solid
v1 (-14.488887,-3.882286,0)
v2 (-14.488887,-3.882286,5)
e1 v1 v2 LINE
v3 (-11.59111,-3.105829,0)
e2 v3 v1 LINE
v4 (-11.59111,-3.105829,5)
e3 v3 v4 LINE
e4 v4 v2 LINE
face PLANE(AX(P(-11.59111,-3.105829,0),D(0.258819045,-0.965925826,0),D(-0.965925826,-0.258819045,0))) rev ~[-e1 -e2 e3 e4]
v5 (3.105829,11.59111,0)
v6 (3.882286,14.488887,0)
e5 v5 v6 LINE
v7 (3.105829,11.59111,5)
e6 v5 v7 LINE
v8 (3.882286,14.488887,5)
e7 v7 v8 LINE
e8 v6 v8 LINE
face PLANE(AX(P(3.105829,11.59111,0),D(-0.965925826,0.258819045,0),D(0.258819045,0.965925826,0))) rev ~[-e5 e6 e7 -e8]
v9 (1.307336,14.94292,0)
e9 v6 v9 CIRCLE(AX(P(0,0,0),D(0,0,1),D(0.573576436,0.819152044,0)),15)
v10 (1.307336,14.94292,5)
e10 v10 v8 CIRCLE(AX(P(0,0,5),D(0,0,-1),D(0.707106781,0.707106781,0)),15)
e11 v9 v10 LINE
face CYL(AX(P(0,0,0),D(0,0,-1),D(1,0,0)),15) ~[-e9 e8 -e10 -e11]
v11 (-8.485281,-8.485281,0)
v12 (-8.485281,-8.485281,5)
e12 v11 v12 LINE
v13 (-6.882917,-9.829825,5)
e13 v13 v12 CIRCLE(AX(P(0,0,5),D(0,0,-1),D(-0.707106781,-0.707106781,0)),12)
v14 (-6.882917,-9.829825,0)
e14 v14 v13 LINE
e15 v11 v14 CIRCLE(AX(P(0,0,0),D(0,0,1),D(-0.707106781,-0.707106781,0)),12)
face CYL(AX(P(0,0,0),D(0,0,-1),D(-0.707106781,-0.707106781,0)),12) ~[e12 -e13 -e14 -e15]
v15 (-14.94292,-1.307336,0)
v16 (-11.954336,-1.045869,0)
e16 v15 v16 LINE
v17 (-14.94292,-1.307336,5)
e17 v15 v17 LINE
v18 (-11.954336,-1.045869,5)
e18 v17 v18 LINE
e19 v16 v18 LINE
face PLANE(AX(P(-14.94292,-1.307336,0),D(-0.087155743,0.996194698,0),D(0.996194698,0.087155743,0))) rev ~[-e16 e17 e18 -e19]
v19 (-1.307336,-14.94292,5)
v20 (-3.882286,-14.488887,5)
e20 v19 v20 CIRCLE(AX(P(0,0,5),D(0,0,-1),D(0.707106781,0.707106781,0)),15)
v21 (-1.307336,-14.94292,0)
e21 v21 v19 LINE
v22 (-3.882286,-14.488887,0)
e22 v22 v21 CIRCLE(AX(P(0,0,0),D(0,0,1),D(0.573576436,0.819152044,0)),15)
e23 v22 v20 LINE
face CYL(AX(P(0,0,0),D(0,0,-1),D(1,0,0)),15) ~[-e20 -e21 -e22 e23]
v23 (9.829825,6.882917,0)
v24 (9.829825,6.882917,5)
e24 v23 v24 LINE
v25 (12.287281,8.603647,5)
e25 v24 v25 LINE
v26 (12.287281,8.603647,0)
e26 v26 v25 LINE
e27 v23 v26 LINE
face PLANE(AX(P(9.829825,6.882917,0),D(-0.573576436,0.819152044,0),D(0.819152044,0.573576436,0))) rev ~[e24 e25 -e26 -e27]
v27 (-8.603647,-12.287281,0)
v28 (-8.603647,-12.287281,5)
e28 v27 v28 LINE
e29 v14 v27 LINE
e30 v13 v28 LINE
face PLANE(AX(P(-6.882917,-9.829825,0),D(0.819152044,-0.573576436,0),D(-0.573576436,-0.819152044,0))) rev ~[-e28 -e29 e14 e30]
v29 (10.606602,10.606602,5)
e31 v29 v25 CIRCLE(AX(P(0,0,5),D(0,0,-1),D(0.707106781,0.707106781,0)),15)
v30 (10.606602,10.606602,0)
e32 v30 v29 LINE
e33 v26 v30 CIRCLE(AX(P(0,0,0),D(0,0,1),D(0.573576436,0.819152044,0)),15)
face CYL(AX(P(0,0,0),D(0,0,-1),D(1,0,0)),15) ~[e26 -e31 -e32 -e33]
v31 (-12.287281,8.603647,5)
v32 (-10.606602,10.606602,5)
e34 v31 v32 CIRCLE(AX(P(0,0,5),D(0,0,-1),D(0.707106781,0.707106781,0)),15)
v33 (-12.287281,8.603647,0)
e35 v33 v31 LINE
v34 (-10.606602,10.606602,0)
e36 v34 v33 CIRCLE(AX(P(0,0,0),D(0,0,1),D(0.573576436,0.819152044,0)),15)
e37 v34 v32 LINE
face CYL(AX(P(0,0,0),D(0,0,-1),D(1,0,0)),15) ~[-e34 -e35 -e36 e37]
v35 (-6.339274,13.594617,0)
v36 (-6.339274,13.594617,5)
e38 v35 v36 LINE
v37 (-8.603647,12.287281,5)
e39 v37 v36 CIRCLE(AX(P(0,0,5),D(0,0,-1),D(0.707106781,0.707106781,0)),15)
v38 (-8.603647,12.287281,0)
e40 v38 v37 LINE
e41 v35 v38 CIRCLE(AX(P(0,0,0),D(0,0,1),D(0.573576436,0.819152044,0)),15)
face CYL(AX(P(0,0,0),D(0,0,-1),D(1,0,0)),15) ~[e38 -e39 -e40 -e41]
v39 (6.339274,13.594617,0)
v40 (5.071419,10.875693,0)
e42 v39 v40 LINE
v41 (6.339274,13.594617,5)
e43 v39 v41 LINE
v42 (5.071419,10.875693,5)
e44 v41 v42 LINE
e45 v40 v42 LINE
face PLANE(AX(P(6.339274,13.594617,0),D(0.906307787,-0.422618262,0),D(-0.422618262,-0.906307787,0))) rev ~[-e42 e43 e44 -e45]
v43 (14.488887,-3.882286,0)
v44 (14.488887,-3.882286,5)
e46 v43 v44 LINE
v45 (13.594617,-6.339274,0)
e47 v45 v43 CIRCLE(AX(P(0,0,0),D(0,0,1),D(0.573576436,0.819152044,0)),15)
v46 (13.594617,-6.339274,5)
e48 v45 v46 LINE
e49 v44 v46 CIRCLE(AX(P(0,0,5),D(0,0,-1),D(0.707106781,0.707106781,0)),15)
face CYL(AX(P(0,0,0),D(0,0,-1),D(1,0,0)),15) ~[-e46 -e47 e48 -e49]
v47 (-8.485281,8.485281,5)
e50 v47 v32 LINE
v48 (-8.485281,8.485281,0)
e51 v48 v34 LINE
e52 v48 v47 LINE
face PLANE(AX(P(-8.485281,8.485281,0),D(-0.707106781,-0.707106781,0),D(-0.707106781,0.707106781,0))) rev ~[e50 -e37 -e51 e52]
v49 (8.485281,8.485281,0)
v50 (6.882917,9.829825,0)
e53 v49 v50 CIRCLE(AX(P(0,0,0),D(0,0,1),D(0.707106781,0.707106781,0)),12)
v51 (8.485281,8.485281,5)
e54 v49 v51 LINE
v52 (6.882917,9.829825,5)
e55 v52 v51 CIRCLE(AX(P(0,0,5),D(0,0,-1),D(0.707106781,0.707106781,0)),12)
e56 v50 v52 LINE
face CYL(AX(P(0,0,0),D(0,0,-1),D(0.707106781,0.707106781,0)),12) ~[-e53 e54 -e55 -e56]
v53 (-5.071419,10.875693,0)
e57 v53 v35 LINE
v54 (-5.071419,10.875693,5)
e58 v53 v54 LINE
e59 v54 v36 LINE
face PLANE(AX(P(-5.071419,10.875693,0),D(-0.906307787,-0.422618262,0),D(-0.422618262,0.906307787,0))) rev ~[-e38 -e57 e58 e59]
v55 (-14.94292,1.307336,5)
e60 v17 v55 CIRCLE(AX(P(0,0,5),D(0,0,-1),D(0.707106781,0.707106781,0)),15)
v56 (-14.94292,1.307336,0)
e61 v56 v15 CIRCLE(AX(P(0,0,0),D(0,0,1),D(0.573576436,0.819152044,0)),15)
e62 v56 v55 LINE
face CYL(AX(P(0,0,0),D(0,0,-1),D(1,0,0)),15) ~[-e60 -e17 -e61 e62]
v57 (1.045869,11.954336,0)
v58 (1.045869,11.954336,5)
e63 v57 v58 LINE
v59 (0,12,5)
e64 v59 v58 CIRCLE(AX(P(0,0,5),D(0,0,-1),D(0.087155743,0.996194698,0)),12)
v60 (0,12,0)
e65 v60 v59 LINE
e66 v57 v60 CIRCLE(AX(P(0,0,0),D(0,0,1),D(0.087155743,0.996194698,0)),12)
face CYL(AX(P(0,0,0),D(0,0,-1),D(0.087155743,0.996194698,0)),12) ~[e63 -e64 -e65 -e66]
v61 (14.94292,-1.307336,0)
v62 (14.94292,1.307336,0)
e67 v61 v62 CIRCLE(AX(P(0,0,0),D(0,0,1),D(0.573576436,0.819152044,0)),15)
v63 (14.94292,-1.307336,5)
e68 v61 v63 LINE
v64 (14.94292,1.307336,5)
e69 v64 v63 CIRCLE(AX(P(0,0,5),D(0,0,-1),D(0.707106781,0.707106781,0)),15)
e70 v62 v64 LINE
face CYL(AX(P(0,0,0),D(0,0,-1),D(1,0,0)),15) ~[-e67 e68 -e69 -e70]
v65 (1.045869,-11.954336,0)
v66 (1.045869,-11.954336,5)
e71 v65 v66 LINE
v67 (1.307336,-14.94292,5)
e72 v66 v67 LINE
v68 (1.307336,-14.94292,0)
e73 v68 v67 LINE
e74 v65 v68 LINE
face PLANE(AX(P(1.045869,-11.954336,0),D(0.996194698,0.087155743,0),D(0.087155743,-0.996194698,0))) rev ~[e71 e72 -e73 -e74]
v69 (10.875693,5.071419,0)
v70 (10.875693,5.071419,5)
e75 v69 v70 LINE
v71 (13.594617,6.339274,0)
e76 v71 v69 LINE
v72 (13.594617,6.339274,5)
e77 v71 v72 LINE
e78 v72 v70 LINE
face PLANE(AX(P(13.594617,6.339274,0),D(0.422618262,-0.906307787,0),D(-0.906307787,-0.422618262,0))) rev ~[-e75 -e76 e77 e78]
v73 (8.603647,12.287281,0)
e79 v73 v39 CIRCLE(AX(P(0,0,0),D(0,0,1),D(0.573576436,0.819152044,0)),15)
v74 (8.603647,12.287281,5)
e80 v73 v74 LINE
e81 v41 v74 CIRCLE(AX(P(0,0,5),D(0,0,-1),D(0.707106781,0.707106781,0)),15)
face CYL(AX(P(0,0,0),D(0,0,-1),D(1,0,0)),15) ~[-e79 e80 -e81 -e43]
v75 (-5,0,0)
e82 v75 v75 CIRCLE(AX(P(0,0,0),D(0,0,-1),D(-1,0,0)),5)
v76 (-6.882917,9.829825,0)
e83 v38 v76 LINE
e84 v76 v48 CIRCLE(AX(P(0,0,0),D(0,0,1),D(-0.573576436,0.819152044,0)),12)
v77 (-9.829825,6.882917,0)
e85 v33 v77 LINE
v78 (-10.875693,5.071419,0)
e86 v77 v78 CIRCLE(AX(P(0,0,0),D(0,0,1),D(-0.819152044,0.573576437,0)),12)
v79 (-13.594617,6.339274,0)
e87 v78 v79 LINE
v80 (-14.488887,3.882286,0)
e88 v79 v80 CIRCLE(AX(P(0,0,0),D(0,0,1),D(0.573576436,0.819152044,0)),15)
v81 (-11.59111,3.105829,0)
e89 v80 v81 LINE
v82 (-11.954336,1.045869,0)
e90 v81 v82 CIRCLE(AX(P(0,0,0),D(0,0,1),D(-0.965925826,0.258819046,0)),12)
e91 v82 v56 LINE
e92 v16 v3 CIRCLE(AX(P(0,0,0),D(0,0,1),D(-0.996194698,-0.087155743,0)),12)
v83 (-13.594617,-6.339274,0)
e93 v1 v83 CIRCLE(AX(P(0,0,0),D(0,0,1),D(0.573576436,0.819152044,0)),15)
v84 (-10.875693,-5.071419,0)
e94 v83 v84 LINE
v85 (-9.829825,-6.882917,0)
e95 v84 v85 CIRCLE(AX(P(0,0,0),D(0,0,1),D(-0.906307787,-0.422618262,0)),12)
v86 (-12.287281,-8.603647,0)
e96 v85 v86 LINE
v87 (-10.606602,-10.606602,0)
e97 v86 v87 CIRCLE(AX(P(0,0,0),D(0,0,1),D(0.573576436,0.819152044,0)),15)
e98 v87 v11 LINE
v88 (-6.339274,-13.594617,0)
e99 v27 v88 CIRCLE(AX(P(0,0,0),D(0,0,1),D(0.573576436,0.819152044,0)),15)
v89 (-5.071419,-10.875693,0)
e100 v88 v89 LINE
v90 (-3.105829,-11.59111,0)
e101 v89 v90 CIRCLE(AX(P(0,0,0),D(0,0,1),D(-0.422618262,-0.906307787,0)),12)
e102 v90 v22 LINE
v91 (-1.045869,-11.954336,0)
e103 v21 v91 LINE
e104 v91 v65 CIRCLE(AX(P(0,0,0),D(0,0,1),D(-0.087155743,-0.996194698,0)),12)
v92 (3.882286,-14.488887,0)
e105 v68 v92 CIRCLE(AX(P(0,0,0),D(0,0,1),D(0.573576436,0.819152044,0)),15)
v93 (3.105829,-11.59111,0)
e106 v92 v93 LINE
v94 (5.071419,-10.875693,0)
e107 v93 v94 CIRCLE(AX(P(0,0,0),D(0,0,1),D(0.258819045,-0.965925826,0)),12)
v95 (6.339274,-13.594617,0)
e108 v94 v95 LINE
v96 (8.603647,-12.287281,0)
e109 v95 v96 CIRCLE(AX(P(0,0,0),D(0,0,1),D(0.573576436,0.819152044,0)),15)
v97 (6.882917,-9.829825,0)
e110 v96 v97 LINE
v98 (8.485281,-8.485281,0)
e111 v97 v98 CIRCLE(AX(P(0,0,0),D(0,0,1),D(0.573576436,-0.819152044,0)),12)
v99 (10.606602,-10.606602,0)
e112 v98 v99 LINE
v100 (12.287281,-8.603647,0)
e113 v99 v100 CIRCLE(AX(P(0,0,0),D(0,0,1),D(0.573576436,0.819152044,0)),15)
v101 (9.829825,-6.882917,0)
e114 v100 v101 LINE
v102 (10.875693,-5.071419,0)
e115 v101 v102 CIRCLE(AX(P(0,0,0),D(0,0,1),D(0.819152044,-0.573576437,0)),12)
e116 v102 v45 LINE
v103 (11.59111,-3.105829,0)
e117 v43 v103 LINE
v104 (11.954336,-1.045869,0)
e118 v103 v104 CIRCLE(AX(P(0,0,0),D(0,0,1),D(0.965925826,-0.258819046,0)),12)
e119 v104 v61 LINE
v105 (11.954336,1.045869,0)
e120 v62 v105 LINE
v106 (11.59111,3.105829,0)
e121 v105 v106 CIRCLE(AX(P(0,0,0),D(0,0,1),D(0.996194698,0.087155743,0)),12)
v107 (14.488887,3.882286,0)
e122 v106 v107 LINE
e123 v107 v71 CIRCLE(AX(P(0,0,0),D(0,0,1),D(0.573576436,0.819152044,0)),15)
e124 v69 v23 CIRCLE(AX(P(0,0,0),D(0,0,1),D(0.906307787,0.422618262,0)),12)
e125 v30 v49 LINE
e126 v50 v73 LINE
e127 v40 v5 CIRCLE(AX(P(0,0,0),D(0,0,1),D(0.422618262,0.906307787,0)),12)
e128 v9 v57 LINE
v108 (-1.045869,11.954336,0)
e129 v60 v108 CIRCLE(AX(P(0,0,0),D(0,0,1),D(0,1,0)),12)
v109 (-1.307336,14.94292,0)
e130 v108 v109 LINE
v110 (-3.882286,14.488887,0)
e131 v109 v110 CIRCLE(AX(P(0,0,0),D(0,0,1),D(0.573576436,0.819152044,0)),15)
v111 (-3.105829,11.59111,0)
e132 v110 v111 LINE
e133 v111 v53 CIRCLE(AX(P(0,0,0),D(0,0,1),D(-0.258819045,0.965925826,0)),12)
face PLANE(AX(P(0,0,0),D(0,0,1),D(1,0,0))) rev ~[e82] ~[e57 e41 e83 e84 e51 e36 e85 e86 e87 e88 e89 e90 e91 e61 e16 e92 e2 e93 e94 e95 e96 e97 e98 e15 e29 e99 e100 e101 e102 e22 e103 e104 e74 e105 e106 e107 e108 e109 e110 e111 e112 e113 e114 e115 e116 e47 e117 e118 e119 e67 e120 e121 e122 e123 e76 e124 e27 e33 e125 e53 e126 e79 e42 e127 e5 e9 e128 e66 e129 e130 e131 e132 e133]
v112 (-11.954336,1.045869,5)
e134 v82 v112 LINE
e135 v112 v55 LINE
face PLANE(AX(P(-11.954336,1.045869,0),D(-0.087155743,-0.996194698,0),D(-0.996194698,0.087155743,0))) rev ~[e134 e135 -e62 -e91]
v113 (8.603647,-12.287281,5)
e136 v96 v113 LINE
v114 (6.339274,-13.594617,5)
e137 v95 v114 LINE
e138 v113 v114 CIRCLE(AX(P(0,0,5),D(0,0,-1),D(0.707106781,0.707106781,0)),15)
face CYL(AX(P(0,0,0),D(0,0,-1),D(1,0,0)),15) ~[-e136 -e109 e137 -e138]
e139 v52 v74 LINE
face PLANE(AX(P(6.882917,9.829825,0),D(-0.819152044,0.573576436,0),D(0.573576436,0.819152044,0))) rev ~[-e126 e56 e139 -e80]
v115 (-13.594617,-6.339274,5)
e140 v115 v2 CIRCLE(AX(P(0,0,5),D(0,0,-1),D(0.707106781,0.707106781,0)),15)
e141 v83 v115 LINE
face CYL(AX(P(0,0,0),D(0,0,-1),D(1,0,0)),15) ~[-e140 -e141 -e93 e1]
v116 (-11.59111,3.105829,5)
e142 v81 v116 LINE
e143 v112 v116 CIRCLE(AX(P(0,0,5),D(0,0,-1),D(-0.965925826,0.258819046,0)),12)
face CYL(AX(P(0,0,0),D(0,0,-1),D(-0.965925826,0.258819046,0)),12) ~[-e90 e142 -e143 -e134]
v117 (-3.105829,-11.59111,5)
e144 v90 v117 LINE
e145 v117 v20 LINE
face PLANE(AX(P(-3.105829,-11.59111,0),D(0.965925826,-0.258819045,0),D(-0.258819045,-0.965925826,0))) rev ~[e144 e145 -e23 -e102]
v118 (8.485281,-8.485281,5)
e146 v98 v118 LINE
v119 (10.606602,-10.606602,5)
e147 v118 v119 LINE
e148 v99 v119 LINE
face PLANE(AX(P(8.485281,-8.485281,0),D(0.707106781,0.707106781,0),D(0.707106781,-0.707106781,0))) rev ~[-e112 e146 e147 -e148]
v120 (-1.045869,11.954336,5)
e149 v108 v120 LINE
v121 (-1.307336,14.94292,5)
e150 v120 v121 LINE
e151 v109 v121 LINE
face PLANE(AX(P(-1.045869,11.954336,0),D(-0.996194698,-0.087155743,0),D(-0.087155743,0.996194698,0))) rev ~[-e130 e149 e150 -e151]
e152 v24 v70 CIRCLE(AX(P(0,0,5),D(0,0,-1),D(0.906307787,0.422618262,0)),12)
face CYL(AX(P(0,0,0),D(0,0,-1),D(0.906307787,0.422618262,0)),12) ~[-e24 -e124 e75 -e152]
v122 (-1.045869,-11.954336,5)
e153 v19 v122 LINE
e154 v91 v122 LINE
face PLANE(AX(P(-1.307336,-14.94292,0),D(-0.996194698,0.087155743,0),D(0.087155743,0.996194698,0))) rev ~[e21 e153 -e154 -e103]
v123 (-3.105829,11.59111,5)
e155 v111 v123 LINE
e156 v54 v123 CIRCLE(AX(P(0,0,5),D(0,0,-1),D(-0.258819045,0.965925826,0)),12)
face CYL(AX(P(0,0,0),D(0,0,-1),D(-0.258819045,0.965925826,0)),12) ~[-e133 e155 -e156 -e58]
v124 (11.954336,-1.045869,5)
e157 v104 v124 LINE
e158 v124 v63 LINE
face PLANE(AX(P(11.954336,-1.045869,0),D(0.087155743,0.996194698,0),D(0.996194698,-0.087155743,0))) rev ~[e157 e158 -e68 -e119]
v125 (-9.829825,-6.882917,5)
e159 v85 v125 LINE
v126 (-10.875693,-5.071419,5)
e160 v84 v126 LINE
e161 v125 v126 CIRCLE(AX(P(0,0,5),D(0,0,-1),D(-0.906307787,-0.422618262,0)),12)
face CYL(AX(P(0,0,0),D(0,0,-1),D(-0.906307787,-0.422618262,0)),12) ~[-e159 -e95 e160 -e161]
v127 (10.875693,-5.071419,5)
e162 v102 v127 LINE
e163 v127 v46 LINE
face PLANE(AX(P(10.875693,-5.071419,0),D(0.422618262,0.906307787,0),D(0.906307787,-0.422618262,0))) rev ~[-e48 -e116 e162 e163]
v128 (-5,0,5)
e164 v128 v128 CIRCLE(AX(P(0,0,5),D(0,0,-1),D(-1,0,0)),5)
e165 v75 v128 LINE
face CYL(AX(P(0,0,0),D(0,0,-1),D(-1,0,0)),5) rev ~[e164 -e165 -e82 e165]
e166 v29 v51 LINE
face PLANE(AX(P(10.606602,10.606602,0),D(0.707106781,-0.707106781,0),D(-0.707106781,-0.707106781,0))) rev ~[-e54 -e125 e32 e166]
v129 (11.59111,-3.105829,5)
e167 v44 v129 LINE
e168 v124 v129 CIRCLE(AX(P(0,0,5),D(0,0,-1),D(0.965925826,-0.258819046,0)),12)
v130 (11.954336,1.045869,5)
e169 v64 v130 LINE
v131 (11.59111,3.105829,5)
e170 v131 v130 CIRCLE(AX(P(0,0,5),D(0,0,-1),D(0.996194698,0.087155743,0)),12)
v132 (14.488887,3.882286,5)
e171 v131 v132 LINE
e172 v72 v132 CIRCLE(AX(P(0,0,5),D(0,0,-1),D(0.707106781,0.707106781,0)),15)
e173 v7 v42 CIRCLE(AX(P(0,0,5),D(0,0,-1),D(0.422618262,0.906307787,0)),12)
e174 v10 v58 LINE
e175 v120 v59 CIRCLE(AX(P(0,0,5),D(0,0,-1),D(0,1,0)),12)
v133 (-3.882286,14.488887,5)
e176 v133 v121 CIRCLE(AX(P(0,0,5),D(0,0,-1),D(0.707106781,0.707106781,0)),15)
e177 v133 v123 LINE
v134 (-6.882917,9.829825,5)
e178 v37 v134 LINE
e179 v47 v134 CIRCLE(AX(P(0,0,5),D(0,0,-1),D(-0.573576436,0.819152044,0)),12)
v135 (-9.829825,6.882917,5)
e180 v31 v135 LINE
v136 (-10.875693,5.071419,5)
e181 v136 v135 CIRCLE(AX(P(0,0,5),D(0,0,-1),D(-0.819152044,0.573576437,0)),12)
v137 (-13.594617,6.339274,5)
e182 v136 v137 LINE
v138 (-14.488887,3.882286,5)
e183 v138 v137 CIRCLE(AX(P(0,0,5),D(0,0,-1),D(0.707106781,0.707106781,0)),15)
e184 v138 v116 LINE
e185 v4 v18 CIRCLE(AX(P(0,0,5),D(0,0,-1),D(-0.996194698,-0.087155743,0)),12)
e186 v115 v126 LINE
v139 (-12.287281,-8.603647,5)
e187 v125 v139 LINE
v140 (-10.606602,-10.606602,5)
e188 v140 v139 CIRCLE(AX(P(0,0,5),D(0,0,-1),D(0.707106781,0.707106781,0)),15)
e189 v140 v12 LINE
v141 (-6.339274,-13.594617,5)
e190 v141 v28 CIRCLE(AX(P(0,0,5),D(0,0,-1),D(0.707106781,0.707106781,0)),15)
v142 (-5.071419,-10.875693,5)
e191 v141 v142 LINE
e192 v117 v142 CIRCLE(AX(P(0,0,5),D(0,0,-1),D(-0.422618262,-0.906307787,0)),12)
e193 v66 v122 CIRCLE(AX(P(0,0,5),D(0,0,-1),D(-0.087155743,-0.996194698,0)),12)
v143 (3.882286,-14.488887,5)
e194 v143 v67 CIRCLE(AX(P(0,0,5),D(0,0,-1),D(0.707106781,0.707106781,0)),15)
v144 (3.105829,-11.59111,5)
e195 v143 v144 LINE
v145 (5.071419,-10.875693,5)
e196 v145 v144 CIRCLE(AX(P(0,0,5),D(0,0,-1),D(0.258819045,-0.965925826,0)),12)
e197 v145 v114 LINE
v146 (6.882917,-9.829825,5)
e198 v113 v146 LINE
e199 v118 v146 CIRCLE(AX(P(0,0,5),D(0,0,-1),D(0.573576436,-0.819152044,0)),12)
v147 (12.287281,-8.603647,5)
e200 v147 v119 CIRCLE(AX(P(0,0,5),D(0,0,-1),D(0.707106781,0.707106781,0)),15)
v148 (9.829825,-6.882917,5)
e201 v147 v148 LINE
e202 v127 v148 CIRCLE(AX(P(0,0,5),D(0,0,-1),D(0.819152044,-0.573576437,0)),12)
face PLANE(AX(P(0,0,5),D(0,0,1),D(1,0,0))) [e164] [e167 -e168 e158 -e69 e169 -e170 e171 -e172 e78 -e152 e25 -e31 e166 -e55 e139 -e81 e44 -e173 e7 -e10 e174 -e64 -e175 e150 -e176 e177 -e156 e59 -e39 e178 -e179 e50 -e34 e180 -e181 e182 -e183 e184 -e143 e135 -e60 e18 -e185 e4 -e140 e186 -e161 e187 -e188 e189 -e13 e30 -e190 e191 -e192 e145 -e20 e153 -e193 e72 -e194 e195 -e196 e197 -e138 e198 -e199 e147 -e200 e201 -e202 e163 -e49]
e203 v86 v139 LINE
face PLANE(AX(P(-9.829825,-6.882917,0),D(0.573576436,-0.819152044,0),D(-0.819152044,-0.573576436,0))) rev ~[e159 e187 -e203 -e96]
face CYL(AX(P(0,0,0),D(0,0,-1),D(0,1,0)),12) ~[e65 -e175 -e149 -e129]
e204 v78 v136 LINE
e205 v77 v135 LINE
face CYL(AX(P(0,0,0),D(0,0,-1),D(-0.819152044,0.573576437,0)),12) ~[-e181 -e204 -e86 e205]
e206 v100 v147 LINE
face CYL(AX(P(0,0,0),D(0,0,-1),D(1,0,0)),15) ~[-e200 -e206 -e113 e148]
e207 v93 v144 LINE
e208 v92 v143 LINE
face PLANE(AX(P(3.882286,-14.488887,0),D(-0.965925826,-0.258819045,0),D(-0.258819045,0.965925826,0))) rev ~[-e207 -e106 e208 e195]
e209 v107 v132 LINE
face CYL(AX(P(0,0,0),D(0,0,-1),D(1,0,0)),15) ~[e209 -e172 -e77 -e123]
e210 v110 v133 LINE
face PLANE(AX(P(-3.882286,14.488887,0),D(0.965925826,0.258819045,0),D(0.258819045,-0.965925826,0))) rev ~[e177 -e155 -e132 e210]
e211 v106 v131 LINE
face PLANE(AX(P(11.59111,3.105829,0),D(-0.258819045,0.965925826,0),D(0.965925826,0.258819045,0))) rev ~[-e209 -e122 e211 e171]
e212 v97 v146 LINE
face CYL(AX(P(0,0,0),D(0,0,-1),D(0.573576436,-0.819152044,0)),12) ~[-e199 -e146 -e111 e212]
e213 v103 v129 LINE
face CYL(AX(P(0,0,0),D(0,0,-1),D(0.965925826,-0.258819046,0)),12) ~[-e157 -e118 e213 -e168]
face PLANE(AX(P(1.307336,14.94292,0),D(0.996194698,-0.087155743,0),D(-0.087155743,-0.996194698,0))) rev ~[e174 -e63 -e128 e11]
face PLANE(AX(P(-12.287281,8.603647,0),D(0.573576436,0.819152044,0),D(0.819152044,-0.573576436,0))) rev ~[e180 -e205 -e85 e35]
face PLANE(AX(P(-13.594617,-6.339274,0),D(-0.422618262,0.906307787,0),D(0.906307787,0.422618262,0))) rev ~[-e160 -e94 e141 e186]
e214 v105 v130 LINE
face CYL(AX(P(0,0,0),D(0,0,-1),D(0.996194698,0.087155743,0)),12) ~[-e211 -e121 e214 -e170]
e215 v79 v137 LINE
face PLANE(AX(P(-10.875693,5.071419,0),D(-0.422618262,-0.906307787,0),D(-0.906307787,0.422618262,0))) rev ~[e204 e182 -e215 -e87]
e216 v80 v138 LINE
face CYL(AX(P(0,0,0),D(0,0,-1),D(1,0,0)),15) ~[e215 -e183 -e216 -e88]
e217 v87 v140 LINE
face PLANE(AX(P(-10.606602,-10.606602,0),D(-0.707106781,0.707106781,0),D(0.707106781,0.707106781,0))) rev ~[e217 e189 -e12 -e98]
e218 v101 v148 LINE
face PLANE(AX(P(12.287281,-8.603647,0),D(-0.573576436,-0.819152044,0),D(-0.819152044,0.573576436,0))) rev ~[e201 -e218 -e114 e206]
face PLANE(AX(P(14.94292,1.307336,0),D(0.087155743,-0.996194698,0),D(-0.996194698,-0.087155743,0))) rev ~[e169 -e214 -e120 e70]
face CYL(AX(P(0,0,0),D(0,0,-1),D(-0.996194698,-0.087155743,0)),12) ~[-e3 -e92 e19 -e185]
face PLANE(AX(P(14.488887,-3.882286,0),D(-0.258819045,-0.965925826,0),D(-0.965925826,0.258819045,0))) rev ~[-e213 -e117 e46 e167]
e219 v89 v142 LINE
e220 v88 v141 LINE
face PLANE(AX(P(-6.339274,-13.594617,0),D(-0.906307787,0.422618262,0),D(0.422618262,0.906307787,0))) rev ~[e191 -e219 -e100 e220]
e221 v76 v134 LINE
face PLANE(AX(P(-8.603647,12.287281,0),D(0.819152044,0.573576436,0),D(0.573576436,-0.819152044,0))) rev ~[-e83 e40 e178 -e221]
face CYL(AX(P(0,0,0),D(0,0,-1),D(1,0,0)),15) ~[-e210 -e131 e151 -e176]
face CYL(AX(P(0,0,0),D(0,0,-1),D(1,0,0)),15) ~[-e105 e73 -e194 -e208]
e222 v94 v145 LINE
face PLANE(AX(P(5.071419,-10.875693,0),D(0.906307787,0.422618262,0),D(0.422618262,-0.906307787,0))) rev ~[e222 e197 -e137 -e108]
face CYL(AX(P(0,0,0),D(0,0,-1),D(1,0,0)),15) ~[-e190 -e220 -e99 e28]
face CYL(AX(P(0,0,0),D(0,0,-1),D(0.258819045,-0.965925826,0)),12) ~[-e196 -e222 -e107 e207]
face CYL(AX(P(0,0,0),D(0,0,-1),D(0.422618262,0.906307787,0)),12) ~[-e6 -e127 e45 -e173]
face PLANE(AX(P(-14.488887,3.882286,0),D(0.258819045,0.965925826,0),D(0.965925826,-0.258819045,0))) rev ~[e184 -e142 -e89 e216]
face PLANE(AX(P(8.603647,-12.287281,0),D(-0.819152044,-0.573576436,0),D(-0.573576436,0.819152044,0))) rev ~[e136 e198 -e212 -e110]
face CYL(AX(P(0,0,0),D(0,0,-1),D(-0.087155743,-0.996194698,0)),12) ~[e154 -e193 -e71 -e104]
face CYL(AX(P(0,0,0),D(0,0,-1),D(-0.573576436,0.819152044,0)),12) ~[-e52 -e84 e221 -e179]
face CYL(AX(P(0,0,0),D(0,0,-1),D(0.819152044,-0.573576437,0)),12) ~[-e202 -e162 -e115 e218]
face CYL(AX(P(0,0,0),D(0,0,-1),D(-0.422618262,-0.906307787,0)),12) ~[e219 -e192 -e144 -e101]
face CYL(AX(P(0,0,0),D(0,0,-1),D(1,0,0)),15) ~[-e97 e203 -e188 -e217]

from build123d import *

# Parameters (mm, degrees)
SKETCH_1_R          = 15
EXTRUDE_1_DEPTH     = 5
CUT_EXTRUDE_1_REACH = 23.794
CUT_EXTRUDE_2_REACH = 23.755
SKETCH_3_R          = 5


with BuildPart() as part:
    # ｽｹｯﾁ1 → ﾎﾞｽ - 押し出し1 (new body)
    with BuildSketch(Plane.XY):
        Circle(SKETCH_1_R)
    extrude(amount=EXTRUDE_1_DEPTH)

    # ｽｹｯﾁ2 → ｶｯﾄ - 押し出し1 (cut, up to next)
    with BuildSketch(Plane(origin=(0, 0, 0), x_dir=(-1, 0, 0), z_dir=(0, 0, -1)), mode=Mode.PRIVATE) as cut_extrude_1_sk1:
        with BuildLine():
            Line((-6.882917236, 9.829824531), (-8.603646545, 12.287280664))
            ThreePointArc((-8.603646545, 12.287280664), (-9.641814145, 11.490666647), (-10.606601718, 10.606601718))
            Line((-10.606601718, 10.606601718), (-8.485281374, 8.485281374))
            ThreePointArc((-8.485281374, 8.485281374), (-7.713451316, 9.192533317), (-6.882917236, 9.829824531))
        make_face()
    cut_extrude_1_tool1 = extrude(cut_extrude_1_sk1.sketch, amount=-CUT_EXTRUDE_1_REACH, mode=Mode.PRIVATE) & part.part
    # ｽｹｯﾁ2 → ｶｯﾄ - 押し出し1 (cut, up to next)
    with BuildSketch(Plane(origin=(0, 0, 0), x_dir=(-1, 0, 0), z_dir=(0, 0, -1)), mode=Mode.PRIVATE) as cut_extrude_1_sk2:
        with BuildLine():
            Line((-3.105828541, 11.591109915), (-3.882285677, 14.488887394))
            ThreePointArc((-3.882285677, 14.488887394), (-5.13030215, 14.095389312), (-6.339273926, 13.594616806))
            Line((-6.339273926, 13.594616806), (-5.071419141, 10.875693444))
            ThreePointArc((-5.071419141, 10.875693444), (-4.10424172, 11.276311449), (-3.105828541, 11.591109915))
        make_face()
    cut_extrude_1_tool2 = extrude(cut_extrude_1_sk2.sketch, amount=-CUT_EXTRUDE_1_REACH, mode=Mode.PRIVATE) & part.part
    # ｽｹｯﾁ2 → ｶｯﾄ - 押し出し1 (cut, up to next)
    with BuildSketch(Plane(origin=(0, 0, 0), x_dir=(-1, 0, 0), z_dir=(0, 0, -1)), mode=Mode.PRIVATE) as cut_extrude_1_sk3:
        with BuildLine():
            ThreePointArc((0, 12), (0.523432648, 11.988578659), (1.045868913, 11.954336377))
            Line((1.045868913, 11.954336377), (1.307336141, 14.942920471))
            ThreePointArc((1.307336141, 14.942920471), (0.65429081, 14.985723324), (0, 15))
            Line((0, 15), (0, 12))
        make_face()
    cut_extrude_1_tool3 = extrude(cut_extrude_1_sk3.sketch, amount=-CUT_EXTRUDE_1_REACH, mode=Mode.PRIVATE) & part.part
    # ｽｹｯﾁ2 → ｶｯﾄ - 押し出し1 (cut, up to next)
    with BuildSketch(Plane(origin=(0, 0, 0), x_dir=(-1, 0, 0), z_dir=(0, 0, -1)), mode=Mode.PRIVATE) as cut_extrude_1_sk4:
        with BuildLine():
            ThreePointArc((-1.045868913, 11.954336377), (-0.523432648, 11.988578659), (0, 12))
            Line((0, 12), (0, 15))
            ThreePointArc((0, 15), (-0.65429081, 14.985723324), (-1.307336141, 14.942920471))
            Line((-1.307336141, 14.942920471), (-1.045868913, 11.954336377))
        make_face()
    cut_extrude_1_tool4 = extrude(cut_extrude_1_sk4.sketch, amount=-CUT_EXTRUDE_1_REACH, mode=Mode.PRIVATE) & part.part
    # ｽｹｯﾁ2 → ｶｯﾄ - 押し出し1 (cut, up to next)
    with BuildSketch(Plane(origin=(0, 0, 0), x_dir=(-1, 0, 0), z_dir=(0, 0, -1)), mode=Mode.PRIVATE) as cut_extrude_1_sk5:
        with BuildLine():
            ThreePointArc((6.339273926, 13.594616806), (5.13030215, 14.095389312), (3.882285677, 14.488887394))
            Line((3.882285677, 14.488887394), (3.105828541, 11.591109915))
            ThreePointArc((3.105828541, 11.591109915), (4.10424172, 11.276311449), (5.071419141, 10.875693444))
            Line((5.071419141, 10.875693444), (6.339273926, 13.594616806))
        make_face()
    cut_extrude_1_tool5 = extrude(cut_extrude_1_sk5.sketch, amount=-CUT_EXTRUDE_1_REACH, mode=Mode.PRIVATE) & part.part
    # ｽｹｯﾁ2 → ｶｯﾄ - 押し出し1 (cut, up to next)
    with BuildSketch(Plane(origin=(0, 0, 0), x_dir=(-1, 0, 0), z_dir=(0, 0, -1)), mode=Mode.PRIVATE) as cut_extrude_1_sk6:
        with BuildLine():
            ThreePointArc((10.606601718, 10.606601718), (9.641814145, 11.490666647), (8.603646545, 12.287280664))
            Line((8.603646545, 12.287280664), (6.882917236, 9.829824531))
            ThreePointArc((6.882917236, 9.829824531), (7.713451316, 9.192533317), (8.485281374, 8.485281374))
            Line((8.485281374, 8.485281374), (10.606601718, 10.606601718))
        make_face()
    cut_extrude_1_tool6 = extrude(cut_extrude_1_sk6.sketch, amount=-CUT_EXTRUDE_1_REACH, mode=Mode.PRIVATE) & part.part
    # ｽｹｯﾁ2 → ｶｯﾄ - 押し出し1 (cut, up to next)
    with BuildSketch(Plane(origin=(0, 0, 0), x_dir=(-1, 0, 0), z_dir=(0, 0, -1)), mode=Mode.PRIVATE) as cut_extrude_1_sk7:
        with BuildLine():
            ThreePointArc((13.594616806, 6.339273926), (12.990381057, 7.5), (12.287280664, 8.603646545))
            Line((12.287280664, 8.603646545), (9.829824531, 6.882917236))
            ThreePointArc((9.829824531, 6.882917236), (10.392304845, 6), (10.875693444, 5.071419141))
            Line((10.875693444, 5.071419141), (13.594616806, 6.339273926))
        make_face()
    cut_extrude_1_tool7 = extrude(cut_extrude_1_sk7.sketch, amount=-CUT_EXTRUDE_1_REACH, mode=Mode.PRIVATE) & part.part
    # ｽｹｯﾁ2 → ｶｯﾄ - 押し出し1 (cut, up to next)
    with BuildSketch(Plane(origin=(0, 0, 0), x_dir=(-1, 0, 0), z_dir=(0, 0, -1)), mode=Mode.PRIVATE) as cut_extrude_1_sk8:
        with BuildLine():
            ThreePointArc((14.942920471, 1.307336141), (14.772116295, 2.604722665), (14.488887394, 3.882285677))
            Line((14.488887394, 3.882285677), (11.591109915, 3.105828541))
            ThreePointArc((11.591109915, 3.105828541), (11.817693036, 2.083778132), (11.954336377, 1.045868913))
            Line((11.954336377, 1.045868913), (14.942920471, 1.307336141))
        make_face()
    cut_extrude_1_tool8 = extrude(cut_extrude_1_sk8.sketch, amount=-CUT_EXTRUDE_1_REACH, mode=Mode.PRIVATE) & part.part
    # ｽｹｯﾁ2 → ｶｯﾄ - 押し出し1 (cut, up to next)
    with BuildSketch(Plane(origin=(0, 0, 0), x_dir=(-1, 0, 0), z_dir=(0, 0, -1)), mode=Mode.PRIVATE) as cut_extrude_1_sk9:
        with BuildLine():
            ThreePointArc((14.488887394, -3.882285677), (14.772116295, -2.604722665), (14.942920471, -1.307336141))
            Line((14.942920471, -1.307336141), (11.954336377, -1.045868913))
            ThreePointArc((11.954336377, -1.045868913), (11.817693036, -2.083778132), (11.591109915, -3.105828541))
            Line((11.591109915, -3.105828541), (14.488887394, -3.882285677))
        make_face()
    cut_extrude_1_tool9 = extrude(cut_extrude_1_sk9.sketch, amount=-CUT_EXTRUDE_1_REACH, mode=Mode.PRIVATE) & part.part
    # ｽｹｯﾁ2 → ｶｯﾄ - 押し出し1 (cut, up to next)
    with BuildSketch(Plane(origin=(0, 0, 0), x_dir=(-1, 0, 0), z_dir=(0, 0, -1)), mode=Mode.PRIVATE) as cut_extrude_1_sk10:
        with BuildLine():
            Line((-9.829824531, 6.882917236), (-12.287280664, 8.603646545))
            ThreePointArc((-12.287280664, 8.603646545), (-12.990381057, 7.5), (-13.594616806, 6.339273926))
            Line((-13.594616806, 6.339273926), (-10.875693444, 5.071419141))
            ThreePointArc((-10.875693444, 5.071419141), (-10.392304845, 6), (-9.829824531, 6.882917236))
        make_face()
    cut_extrude_1_tool10 = extrude(cut_extrude_1_sk10.sketch, amount=-CUT_EXTRUDE_1_REACH, mode=Mode.PRIVATE) & part.part
    # ｽｹｯﾁ2 → ｶｯﾄ - 押し出し1 (cut, up to next)
    with BuildSketch(Plane(origin=(0, 0, 0), x_dir=(-1, 0, 0), z_dir=(0, 0, -1)), mode=Mode.PRIVATE) as cut_extrude_1_sk11:
        with BuildLine():
            Line((-11.591109915, 3.105828541), (-14.488887394, 3.882285677))
            ThreePointArc((-14.488887394, 3.882285677), (-14.772116295, 2.604722665), (-14.942920471, 1.307336141))
            Line((-14.942920471, 1.307336141), (-11.954336377, 1.045868913))
            ThreePointArc((-11.954336377, 1.045868913), (-11.817693036, 2.083778132), (-11.591109915, 3.105828541))
        make_face()
    cut_extrude_1_tool11 = extrude(cut_extrude_1_sk11.sketch, amount=-CUT_EXTRUDE_1_REACH, mode=Mode.PRIVATE) & part.part
    # ｽｹｯﾁ2 → ｶｯﾄ - 押し出し1 (cut, up to next)
    with BuildSketch(Plane(origin=(0, 0, 0), x_dir=(-1, 0, 0), z_dir=(0, 0, -1)), mode=Mode.PRIVATE) as cut_extrude_1_sk12:
        with BuildLine():
            Line((-11.954336377, -1.045868913), (-14.942920471, -1.307336141))
            ThreePointArc((-14.942920471, -1.307336141), (-14.772116295, -2.604722665), (-14.488887394, -3.882285677))
            Line((-14.488887394, -3.882285677), (-11.591109915, -3.105828541))
            ThreePointArc((-11.591109915, -3.105828541), (-11.817693036, -2.083778132), (-11.954336377, -1.045868913))
        make_face()
    cut_extrude_1_tool12 = extrude(cut_extrude_1_sk12.sketch, amount=-CUT_EXTRUDE_1_REACH, mode=Mode.PRIVATE) & part.part
    # ｽｹｯﾁ2 → ｶｯﾄ - 押し出し1 (cut, up to next)
    with BuildSketch(Plane(origin=(0, 0, 0), x_dir=(-1, 0, 0), z_dir=(0, 0, -1)), mode=Mode.PRIVATE) as cut_extrude_1_sk13:
        with BuildLine():
            Line((-10.875693444, -5.071419141), (-13.594616806, -6.339273926))
            ThreePointArc((-13.594616806, -6.339273926), (-12.990381057, -7.5), (-12.287280664, -8.603646545))
            Line((-12.287280664, -8.603646545), (-9.829824531, -6.882917236))
            ThreePointArc((-9.829824531, -6.882917236), (-10.392304845, -6), (-10.875693444, -5.071419141))
        make_face()
    cut_extrude_1_tool13 = extrude(cut_extrude_1_sk13.sketch, amount=-CUT_EXTRUDE_1_REACH, mode=Mode.PRIVATE) & part.part
    # ｽｹｯﾁ2 → ｶｯﾄ - 押し出し1 (cut, up to next)
    with BuildSketch(Plane(origin=(0, 0, 0), x_dir=(-1, 0, 0), z_dir=(0, 0, -1)), mode=Mode.PRIVATE) as cut_extrude_1_sk14:
        with BuildLine():
            Line((-8.485281374, -8.485281374), (-10.606601718, -10.606601718))
            ThreePointArc((-10.606601718, -10.606601718), (-9.641814145, -11.490666647), (-8.603646545, -12.287280664))
            Line((-8.603646545, -12.287280664), (-6.882917236, -9.829824531))
            ThreePointArc((-6.882917236, -9.829824531), (-7.713451316, -9.192533317), (-8.485281374, -8.485281374))
        make_face()
    cut_extrude_1_tool14 = extrude(cut_extrude_1_sk14.sketch, amount=-CUT_EXTRUDE_1_REACH, mode=Mode.PRIVATE) & part.part
    # ｽｹｯﾁ2 → ｶｯﾄ - 押し出し1 (cut, up to next)
    with BuildSketch(Plane(origin=(0, 0, 0), x_dir=(-1, 0, 0), z_dir=(0, 0, -1)), mode=Mode.PRIVATE) as cut_extrude_1_sk15:
        with BuildLine():
            Line((-5.071419141, -10.875693444), (-6.339273926, -13.594616806))
            ThreePointArc((-6.339273926, -13.594616806), (-5.13030215, -14.095389312), (-3.882285677, -14.488887394))
            Line((-3.882285677, -14.488887394), (-3.105828541, -11.591109915))
            ThreePointArc((-3.105828541, -11.591109915), (-4.10424172, -11.276311449), (-5.071419141, -10.875693444))
        make_face()
    cut_extrude_1_tool15 = extrude(cut_extrude_1_sk15.sketch, amount=-CUT_EXTRUDE_1_REACH, mode=Mode.PRIVATE) & part.part
    # ｽｹｯﾁ2 → ｶｯﾄ - 押し出し1 (cut, up to next)
    with BuildSketch(Plane(origin=(0, 0, 0), x_dir=(-1, 0, 0), z_dir=(0, 0, -1)), mode=Mode.PRIVATE) as cut_extrude_1_sk16:
        with BuildLine():
            ThreePointArc((-1.307336141, -14.942920471), (0, -15), (1.307336141, -14.942920471))
            Line((1.307336141, -14.942920471), (1.045868913, -11.954336377))
            ThreePointArc((1.045868913, -11.954336377), (0, -12), (-1.045868913, -11.954336377))
            Line((-1.045868913, -11.954336377), (-1.307336141, -14.942920471))
        make_face()
    cut_extrude_1_tool16 = extrude(cut_extrude_1_sk16.sketch, amount=-CUT_EXTRUDE_1_REACH, mode=Mode.PRIVATE) & part.part
    # ｽｹｯﾁ2 → ｶｯﾄ - 押し出し1 (cut, up to next)
    with BuildSketch(Plane(origin=(0, 0, 0), x_dir=(-1, 0, 0), z_dir=(0, 0, -1)), mode=Mode.PRIVATE) as cut_extrude_1_sk17:
        with BuildLine():
            ThreePointArc((3.882285677, -14.488887394), (5.13030215, -14.095389312), (6.339273926, -13.594616806))
            Line((6.339273926, -13.594616806), (5.071419141, -10.875693444))
            ThreePointArc((5.071419141, -10.875693444), (4.10424172, -11.276311449), (3.105828541, -11.591109915))
            Line((3.105828541, -11.591109915), (3.882285677, -14.488887394))
        make_face()
    cut_extrude_1_tool17 = extrude(cut_extrude_1_sk17.sketch, amount=-CUT_EXTRUDE_1_REACH, mode=Mode.PRIVATE) & part.part
    # ｽｹｯﾁ2 → ｶｯﾄ - 押し出し1 (cut, up to next)
    with BuildSketch(Plane(origin=(0, 0, 0), x_dir=(-1, 0, 0), z_dir=(0, 0, -1)), mode=Mode.PRIVATE) as cut_extrude_1_sk18:
        with BuildLine():
            ThreePointArc((8.603646545, -12.287280664), (9.641814145, -11.490666647), (10.606601718, -10.606601718))
            Line((10.606601718, -10.606601718), (8.485281374, -8.485281374))
            ThreePointArc((8.485281374, -8.485281374), (7.713451316, -9.192533317), (6.882917236, -9.829824531))
            Line((6.882917236, -9.829824531), (8.603646545, -12.287280664))
        make_face()
    cut_extrude_1_tool18 = extrude(cut_extrude_1_sk18.sketch, amount=-CUT_EXTRUDE_1_REACH, mode=Mode.PRIVATE) & part.part
    # ｽｹｯﾁ2 → ｶｯﾄ - 押し出し1 (cut, up to next)
    with BuildSketch(Plane(origin=(0, 0, 0), x_dir=(-1, 0, 0), z_dir=(0, 0, -1)), mode=Mode.PRIVATE) as cut_extrude_1_sk19:
        with BuildLine():
            ThreePointArc((12.287280664, -8.603646545), (12.990381057, -7.5), (13.594616806, -6.339273926))
            Line((13.594616806, -6.339273926), (10.875693444, -5.071419141))
            ThreePointArc((10.875693444, -5.071419141), (10.392304845, -6), (9.829824531, -6.882917236))
            Line((9.829824531, -6.882917236), (12.287280664, -8.603646545))
        make_face()
    cut_extrude_1_tool19 = extrude(cut_extrude_1_sk19.sketch, amount=-CUT_EXTRUDE_1_REACH, mode=Mode.PRIVATE) & part.part
    add(cut_extrude_1_tool1.solids().sort_by_distance((8.702288, 10.370983, 0))[0], mode=Mode.SUBTRACT)
    add(cut_extrude_1_tool2.solids().sort_by_distance((4.630391, 12.721894, 0))[0], mode=Mode.SUBTRACT)
    add(cut_extrude_1_tool3.solids().sort_by_distance((-0.591097, 13.538357, 0))[0], mode=Mode.SUBTRACT)
    add(cut_extrude_1_tool4.solids().sort_by_distance((0.591097, 13.538357, 0))[0], mode=Mode.SUBTRACT)
    add(cut_extrude_1_tool5.solids().sort_by_distance((-4.630391, 12.721894, 0))[0], mode=Mode.SUBTRACT)
    add(cut_extrude_1_tool6.solids().sort_by_distance((-8.702288, 10.370983, 0))[0], mode=Mode.SUBTRACT)
    add(cut_extrude_1_tool7.solids().sort_by_distance((-11.724561, 6.769178, 0))[0], mode=Mode.SUBTRACT)
    add(cut_extrude_1_tool8.solids().sort_by_distance((-13.332679, 2.350911, 0))[0], mode=Mode.SUBTRACT)
    add(cut_extrude_1_tool9.solids().sort_by_distance((-13.332679, -2.350911, 0))[0], mode=Mode.SUBTRACT)
    add(cut_extrude_1_tool10.solids().sort_by_distance((11.724561, 6.769178, 0))[0], mode=Mode.SUBTRACT)
    add(cut_extrude_1_tool11.solids().sort_by_distance((13.332679, 2.350911, 0))[0], mode=Mode.SUBTRACT)
    add(cut_extrude_1_tool12.solids().sort_by_distance((13.332679, -2.350911, 0))[0], mode=Mode.SUBTRACT)
    add(cut_extrude_1_tool13.solids().sort_by_distance((11.724561, -6.769178, 0))[0], mode=Mode.SUBTRACT)
    add(cut_extrude_1_tool14.solids().sort_by_distance((8.702288, -10.370983, 0))[0], mode=Mode.SUBTRACT)
    add(cut_extrude_1_tool15.solids().sort_by_distance((4.630391, -12.721894, 0))[0], mode=Mode.SUBTRACT)
    add(cut_extrude_1_tool16.solids().sort_by_distance((0, -13.538357, 0))[0], mode=Mode.SUBTRACT)
    add(cut_extrude_1_tool17.solids().sort_by_distance((-4.630391, -12.721894, 0))[0], mode=Mode.SUBTRACT)
    add(cut_extrude_1_tool18.solids().sort_by_distance((-8.702288, -10.370983, 0))[0], mode=Mode.SUBTRACT)
    add(cut_extrude_1_tool19.solids().sort_by_distance((-11.724561, -6.769178, 0))[0], mode=Mode.SUBTRACT)

    # ｽｹｯﾁ3 → ｶｯﾄ - 押し出し2 (cut, up to next)
    with BuildSketch(Plane(origin=(0, 0, 0), x_dir=(-1, 0, 0), z_dir=(0, 0, -1)), mode=Mode.PRIVATE) as cut_extrude_2_sk1:
        Circle(SKETCH_3_R)
    cut_extrude_2_tool1 = extrude(cut_extrude_2_sk1.sketch, amount=-CUT_EXTRUDE_2_REACH, mode=Mode.PRIVATE) & part.part
    add(cut_extrude_2_tool1.solids().sort_by_distance((0, 0, 0))[0], mode=Mode.SUBTRACT)


solid = part.part
